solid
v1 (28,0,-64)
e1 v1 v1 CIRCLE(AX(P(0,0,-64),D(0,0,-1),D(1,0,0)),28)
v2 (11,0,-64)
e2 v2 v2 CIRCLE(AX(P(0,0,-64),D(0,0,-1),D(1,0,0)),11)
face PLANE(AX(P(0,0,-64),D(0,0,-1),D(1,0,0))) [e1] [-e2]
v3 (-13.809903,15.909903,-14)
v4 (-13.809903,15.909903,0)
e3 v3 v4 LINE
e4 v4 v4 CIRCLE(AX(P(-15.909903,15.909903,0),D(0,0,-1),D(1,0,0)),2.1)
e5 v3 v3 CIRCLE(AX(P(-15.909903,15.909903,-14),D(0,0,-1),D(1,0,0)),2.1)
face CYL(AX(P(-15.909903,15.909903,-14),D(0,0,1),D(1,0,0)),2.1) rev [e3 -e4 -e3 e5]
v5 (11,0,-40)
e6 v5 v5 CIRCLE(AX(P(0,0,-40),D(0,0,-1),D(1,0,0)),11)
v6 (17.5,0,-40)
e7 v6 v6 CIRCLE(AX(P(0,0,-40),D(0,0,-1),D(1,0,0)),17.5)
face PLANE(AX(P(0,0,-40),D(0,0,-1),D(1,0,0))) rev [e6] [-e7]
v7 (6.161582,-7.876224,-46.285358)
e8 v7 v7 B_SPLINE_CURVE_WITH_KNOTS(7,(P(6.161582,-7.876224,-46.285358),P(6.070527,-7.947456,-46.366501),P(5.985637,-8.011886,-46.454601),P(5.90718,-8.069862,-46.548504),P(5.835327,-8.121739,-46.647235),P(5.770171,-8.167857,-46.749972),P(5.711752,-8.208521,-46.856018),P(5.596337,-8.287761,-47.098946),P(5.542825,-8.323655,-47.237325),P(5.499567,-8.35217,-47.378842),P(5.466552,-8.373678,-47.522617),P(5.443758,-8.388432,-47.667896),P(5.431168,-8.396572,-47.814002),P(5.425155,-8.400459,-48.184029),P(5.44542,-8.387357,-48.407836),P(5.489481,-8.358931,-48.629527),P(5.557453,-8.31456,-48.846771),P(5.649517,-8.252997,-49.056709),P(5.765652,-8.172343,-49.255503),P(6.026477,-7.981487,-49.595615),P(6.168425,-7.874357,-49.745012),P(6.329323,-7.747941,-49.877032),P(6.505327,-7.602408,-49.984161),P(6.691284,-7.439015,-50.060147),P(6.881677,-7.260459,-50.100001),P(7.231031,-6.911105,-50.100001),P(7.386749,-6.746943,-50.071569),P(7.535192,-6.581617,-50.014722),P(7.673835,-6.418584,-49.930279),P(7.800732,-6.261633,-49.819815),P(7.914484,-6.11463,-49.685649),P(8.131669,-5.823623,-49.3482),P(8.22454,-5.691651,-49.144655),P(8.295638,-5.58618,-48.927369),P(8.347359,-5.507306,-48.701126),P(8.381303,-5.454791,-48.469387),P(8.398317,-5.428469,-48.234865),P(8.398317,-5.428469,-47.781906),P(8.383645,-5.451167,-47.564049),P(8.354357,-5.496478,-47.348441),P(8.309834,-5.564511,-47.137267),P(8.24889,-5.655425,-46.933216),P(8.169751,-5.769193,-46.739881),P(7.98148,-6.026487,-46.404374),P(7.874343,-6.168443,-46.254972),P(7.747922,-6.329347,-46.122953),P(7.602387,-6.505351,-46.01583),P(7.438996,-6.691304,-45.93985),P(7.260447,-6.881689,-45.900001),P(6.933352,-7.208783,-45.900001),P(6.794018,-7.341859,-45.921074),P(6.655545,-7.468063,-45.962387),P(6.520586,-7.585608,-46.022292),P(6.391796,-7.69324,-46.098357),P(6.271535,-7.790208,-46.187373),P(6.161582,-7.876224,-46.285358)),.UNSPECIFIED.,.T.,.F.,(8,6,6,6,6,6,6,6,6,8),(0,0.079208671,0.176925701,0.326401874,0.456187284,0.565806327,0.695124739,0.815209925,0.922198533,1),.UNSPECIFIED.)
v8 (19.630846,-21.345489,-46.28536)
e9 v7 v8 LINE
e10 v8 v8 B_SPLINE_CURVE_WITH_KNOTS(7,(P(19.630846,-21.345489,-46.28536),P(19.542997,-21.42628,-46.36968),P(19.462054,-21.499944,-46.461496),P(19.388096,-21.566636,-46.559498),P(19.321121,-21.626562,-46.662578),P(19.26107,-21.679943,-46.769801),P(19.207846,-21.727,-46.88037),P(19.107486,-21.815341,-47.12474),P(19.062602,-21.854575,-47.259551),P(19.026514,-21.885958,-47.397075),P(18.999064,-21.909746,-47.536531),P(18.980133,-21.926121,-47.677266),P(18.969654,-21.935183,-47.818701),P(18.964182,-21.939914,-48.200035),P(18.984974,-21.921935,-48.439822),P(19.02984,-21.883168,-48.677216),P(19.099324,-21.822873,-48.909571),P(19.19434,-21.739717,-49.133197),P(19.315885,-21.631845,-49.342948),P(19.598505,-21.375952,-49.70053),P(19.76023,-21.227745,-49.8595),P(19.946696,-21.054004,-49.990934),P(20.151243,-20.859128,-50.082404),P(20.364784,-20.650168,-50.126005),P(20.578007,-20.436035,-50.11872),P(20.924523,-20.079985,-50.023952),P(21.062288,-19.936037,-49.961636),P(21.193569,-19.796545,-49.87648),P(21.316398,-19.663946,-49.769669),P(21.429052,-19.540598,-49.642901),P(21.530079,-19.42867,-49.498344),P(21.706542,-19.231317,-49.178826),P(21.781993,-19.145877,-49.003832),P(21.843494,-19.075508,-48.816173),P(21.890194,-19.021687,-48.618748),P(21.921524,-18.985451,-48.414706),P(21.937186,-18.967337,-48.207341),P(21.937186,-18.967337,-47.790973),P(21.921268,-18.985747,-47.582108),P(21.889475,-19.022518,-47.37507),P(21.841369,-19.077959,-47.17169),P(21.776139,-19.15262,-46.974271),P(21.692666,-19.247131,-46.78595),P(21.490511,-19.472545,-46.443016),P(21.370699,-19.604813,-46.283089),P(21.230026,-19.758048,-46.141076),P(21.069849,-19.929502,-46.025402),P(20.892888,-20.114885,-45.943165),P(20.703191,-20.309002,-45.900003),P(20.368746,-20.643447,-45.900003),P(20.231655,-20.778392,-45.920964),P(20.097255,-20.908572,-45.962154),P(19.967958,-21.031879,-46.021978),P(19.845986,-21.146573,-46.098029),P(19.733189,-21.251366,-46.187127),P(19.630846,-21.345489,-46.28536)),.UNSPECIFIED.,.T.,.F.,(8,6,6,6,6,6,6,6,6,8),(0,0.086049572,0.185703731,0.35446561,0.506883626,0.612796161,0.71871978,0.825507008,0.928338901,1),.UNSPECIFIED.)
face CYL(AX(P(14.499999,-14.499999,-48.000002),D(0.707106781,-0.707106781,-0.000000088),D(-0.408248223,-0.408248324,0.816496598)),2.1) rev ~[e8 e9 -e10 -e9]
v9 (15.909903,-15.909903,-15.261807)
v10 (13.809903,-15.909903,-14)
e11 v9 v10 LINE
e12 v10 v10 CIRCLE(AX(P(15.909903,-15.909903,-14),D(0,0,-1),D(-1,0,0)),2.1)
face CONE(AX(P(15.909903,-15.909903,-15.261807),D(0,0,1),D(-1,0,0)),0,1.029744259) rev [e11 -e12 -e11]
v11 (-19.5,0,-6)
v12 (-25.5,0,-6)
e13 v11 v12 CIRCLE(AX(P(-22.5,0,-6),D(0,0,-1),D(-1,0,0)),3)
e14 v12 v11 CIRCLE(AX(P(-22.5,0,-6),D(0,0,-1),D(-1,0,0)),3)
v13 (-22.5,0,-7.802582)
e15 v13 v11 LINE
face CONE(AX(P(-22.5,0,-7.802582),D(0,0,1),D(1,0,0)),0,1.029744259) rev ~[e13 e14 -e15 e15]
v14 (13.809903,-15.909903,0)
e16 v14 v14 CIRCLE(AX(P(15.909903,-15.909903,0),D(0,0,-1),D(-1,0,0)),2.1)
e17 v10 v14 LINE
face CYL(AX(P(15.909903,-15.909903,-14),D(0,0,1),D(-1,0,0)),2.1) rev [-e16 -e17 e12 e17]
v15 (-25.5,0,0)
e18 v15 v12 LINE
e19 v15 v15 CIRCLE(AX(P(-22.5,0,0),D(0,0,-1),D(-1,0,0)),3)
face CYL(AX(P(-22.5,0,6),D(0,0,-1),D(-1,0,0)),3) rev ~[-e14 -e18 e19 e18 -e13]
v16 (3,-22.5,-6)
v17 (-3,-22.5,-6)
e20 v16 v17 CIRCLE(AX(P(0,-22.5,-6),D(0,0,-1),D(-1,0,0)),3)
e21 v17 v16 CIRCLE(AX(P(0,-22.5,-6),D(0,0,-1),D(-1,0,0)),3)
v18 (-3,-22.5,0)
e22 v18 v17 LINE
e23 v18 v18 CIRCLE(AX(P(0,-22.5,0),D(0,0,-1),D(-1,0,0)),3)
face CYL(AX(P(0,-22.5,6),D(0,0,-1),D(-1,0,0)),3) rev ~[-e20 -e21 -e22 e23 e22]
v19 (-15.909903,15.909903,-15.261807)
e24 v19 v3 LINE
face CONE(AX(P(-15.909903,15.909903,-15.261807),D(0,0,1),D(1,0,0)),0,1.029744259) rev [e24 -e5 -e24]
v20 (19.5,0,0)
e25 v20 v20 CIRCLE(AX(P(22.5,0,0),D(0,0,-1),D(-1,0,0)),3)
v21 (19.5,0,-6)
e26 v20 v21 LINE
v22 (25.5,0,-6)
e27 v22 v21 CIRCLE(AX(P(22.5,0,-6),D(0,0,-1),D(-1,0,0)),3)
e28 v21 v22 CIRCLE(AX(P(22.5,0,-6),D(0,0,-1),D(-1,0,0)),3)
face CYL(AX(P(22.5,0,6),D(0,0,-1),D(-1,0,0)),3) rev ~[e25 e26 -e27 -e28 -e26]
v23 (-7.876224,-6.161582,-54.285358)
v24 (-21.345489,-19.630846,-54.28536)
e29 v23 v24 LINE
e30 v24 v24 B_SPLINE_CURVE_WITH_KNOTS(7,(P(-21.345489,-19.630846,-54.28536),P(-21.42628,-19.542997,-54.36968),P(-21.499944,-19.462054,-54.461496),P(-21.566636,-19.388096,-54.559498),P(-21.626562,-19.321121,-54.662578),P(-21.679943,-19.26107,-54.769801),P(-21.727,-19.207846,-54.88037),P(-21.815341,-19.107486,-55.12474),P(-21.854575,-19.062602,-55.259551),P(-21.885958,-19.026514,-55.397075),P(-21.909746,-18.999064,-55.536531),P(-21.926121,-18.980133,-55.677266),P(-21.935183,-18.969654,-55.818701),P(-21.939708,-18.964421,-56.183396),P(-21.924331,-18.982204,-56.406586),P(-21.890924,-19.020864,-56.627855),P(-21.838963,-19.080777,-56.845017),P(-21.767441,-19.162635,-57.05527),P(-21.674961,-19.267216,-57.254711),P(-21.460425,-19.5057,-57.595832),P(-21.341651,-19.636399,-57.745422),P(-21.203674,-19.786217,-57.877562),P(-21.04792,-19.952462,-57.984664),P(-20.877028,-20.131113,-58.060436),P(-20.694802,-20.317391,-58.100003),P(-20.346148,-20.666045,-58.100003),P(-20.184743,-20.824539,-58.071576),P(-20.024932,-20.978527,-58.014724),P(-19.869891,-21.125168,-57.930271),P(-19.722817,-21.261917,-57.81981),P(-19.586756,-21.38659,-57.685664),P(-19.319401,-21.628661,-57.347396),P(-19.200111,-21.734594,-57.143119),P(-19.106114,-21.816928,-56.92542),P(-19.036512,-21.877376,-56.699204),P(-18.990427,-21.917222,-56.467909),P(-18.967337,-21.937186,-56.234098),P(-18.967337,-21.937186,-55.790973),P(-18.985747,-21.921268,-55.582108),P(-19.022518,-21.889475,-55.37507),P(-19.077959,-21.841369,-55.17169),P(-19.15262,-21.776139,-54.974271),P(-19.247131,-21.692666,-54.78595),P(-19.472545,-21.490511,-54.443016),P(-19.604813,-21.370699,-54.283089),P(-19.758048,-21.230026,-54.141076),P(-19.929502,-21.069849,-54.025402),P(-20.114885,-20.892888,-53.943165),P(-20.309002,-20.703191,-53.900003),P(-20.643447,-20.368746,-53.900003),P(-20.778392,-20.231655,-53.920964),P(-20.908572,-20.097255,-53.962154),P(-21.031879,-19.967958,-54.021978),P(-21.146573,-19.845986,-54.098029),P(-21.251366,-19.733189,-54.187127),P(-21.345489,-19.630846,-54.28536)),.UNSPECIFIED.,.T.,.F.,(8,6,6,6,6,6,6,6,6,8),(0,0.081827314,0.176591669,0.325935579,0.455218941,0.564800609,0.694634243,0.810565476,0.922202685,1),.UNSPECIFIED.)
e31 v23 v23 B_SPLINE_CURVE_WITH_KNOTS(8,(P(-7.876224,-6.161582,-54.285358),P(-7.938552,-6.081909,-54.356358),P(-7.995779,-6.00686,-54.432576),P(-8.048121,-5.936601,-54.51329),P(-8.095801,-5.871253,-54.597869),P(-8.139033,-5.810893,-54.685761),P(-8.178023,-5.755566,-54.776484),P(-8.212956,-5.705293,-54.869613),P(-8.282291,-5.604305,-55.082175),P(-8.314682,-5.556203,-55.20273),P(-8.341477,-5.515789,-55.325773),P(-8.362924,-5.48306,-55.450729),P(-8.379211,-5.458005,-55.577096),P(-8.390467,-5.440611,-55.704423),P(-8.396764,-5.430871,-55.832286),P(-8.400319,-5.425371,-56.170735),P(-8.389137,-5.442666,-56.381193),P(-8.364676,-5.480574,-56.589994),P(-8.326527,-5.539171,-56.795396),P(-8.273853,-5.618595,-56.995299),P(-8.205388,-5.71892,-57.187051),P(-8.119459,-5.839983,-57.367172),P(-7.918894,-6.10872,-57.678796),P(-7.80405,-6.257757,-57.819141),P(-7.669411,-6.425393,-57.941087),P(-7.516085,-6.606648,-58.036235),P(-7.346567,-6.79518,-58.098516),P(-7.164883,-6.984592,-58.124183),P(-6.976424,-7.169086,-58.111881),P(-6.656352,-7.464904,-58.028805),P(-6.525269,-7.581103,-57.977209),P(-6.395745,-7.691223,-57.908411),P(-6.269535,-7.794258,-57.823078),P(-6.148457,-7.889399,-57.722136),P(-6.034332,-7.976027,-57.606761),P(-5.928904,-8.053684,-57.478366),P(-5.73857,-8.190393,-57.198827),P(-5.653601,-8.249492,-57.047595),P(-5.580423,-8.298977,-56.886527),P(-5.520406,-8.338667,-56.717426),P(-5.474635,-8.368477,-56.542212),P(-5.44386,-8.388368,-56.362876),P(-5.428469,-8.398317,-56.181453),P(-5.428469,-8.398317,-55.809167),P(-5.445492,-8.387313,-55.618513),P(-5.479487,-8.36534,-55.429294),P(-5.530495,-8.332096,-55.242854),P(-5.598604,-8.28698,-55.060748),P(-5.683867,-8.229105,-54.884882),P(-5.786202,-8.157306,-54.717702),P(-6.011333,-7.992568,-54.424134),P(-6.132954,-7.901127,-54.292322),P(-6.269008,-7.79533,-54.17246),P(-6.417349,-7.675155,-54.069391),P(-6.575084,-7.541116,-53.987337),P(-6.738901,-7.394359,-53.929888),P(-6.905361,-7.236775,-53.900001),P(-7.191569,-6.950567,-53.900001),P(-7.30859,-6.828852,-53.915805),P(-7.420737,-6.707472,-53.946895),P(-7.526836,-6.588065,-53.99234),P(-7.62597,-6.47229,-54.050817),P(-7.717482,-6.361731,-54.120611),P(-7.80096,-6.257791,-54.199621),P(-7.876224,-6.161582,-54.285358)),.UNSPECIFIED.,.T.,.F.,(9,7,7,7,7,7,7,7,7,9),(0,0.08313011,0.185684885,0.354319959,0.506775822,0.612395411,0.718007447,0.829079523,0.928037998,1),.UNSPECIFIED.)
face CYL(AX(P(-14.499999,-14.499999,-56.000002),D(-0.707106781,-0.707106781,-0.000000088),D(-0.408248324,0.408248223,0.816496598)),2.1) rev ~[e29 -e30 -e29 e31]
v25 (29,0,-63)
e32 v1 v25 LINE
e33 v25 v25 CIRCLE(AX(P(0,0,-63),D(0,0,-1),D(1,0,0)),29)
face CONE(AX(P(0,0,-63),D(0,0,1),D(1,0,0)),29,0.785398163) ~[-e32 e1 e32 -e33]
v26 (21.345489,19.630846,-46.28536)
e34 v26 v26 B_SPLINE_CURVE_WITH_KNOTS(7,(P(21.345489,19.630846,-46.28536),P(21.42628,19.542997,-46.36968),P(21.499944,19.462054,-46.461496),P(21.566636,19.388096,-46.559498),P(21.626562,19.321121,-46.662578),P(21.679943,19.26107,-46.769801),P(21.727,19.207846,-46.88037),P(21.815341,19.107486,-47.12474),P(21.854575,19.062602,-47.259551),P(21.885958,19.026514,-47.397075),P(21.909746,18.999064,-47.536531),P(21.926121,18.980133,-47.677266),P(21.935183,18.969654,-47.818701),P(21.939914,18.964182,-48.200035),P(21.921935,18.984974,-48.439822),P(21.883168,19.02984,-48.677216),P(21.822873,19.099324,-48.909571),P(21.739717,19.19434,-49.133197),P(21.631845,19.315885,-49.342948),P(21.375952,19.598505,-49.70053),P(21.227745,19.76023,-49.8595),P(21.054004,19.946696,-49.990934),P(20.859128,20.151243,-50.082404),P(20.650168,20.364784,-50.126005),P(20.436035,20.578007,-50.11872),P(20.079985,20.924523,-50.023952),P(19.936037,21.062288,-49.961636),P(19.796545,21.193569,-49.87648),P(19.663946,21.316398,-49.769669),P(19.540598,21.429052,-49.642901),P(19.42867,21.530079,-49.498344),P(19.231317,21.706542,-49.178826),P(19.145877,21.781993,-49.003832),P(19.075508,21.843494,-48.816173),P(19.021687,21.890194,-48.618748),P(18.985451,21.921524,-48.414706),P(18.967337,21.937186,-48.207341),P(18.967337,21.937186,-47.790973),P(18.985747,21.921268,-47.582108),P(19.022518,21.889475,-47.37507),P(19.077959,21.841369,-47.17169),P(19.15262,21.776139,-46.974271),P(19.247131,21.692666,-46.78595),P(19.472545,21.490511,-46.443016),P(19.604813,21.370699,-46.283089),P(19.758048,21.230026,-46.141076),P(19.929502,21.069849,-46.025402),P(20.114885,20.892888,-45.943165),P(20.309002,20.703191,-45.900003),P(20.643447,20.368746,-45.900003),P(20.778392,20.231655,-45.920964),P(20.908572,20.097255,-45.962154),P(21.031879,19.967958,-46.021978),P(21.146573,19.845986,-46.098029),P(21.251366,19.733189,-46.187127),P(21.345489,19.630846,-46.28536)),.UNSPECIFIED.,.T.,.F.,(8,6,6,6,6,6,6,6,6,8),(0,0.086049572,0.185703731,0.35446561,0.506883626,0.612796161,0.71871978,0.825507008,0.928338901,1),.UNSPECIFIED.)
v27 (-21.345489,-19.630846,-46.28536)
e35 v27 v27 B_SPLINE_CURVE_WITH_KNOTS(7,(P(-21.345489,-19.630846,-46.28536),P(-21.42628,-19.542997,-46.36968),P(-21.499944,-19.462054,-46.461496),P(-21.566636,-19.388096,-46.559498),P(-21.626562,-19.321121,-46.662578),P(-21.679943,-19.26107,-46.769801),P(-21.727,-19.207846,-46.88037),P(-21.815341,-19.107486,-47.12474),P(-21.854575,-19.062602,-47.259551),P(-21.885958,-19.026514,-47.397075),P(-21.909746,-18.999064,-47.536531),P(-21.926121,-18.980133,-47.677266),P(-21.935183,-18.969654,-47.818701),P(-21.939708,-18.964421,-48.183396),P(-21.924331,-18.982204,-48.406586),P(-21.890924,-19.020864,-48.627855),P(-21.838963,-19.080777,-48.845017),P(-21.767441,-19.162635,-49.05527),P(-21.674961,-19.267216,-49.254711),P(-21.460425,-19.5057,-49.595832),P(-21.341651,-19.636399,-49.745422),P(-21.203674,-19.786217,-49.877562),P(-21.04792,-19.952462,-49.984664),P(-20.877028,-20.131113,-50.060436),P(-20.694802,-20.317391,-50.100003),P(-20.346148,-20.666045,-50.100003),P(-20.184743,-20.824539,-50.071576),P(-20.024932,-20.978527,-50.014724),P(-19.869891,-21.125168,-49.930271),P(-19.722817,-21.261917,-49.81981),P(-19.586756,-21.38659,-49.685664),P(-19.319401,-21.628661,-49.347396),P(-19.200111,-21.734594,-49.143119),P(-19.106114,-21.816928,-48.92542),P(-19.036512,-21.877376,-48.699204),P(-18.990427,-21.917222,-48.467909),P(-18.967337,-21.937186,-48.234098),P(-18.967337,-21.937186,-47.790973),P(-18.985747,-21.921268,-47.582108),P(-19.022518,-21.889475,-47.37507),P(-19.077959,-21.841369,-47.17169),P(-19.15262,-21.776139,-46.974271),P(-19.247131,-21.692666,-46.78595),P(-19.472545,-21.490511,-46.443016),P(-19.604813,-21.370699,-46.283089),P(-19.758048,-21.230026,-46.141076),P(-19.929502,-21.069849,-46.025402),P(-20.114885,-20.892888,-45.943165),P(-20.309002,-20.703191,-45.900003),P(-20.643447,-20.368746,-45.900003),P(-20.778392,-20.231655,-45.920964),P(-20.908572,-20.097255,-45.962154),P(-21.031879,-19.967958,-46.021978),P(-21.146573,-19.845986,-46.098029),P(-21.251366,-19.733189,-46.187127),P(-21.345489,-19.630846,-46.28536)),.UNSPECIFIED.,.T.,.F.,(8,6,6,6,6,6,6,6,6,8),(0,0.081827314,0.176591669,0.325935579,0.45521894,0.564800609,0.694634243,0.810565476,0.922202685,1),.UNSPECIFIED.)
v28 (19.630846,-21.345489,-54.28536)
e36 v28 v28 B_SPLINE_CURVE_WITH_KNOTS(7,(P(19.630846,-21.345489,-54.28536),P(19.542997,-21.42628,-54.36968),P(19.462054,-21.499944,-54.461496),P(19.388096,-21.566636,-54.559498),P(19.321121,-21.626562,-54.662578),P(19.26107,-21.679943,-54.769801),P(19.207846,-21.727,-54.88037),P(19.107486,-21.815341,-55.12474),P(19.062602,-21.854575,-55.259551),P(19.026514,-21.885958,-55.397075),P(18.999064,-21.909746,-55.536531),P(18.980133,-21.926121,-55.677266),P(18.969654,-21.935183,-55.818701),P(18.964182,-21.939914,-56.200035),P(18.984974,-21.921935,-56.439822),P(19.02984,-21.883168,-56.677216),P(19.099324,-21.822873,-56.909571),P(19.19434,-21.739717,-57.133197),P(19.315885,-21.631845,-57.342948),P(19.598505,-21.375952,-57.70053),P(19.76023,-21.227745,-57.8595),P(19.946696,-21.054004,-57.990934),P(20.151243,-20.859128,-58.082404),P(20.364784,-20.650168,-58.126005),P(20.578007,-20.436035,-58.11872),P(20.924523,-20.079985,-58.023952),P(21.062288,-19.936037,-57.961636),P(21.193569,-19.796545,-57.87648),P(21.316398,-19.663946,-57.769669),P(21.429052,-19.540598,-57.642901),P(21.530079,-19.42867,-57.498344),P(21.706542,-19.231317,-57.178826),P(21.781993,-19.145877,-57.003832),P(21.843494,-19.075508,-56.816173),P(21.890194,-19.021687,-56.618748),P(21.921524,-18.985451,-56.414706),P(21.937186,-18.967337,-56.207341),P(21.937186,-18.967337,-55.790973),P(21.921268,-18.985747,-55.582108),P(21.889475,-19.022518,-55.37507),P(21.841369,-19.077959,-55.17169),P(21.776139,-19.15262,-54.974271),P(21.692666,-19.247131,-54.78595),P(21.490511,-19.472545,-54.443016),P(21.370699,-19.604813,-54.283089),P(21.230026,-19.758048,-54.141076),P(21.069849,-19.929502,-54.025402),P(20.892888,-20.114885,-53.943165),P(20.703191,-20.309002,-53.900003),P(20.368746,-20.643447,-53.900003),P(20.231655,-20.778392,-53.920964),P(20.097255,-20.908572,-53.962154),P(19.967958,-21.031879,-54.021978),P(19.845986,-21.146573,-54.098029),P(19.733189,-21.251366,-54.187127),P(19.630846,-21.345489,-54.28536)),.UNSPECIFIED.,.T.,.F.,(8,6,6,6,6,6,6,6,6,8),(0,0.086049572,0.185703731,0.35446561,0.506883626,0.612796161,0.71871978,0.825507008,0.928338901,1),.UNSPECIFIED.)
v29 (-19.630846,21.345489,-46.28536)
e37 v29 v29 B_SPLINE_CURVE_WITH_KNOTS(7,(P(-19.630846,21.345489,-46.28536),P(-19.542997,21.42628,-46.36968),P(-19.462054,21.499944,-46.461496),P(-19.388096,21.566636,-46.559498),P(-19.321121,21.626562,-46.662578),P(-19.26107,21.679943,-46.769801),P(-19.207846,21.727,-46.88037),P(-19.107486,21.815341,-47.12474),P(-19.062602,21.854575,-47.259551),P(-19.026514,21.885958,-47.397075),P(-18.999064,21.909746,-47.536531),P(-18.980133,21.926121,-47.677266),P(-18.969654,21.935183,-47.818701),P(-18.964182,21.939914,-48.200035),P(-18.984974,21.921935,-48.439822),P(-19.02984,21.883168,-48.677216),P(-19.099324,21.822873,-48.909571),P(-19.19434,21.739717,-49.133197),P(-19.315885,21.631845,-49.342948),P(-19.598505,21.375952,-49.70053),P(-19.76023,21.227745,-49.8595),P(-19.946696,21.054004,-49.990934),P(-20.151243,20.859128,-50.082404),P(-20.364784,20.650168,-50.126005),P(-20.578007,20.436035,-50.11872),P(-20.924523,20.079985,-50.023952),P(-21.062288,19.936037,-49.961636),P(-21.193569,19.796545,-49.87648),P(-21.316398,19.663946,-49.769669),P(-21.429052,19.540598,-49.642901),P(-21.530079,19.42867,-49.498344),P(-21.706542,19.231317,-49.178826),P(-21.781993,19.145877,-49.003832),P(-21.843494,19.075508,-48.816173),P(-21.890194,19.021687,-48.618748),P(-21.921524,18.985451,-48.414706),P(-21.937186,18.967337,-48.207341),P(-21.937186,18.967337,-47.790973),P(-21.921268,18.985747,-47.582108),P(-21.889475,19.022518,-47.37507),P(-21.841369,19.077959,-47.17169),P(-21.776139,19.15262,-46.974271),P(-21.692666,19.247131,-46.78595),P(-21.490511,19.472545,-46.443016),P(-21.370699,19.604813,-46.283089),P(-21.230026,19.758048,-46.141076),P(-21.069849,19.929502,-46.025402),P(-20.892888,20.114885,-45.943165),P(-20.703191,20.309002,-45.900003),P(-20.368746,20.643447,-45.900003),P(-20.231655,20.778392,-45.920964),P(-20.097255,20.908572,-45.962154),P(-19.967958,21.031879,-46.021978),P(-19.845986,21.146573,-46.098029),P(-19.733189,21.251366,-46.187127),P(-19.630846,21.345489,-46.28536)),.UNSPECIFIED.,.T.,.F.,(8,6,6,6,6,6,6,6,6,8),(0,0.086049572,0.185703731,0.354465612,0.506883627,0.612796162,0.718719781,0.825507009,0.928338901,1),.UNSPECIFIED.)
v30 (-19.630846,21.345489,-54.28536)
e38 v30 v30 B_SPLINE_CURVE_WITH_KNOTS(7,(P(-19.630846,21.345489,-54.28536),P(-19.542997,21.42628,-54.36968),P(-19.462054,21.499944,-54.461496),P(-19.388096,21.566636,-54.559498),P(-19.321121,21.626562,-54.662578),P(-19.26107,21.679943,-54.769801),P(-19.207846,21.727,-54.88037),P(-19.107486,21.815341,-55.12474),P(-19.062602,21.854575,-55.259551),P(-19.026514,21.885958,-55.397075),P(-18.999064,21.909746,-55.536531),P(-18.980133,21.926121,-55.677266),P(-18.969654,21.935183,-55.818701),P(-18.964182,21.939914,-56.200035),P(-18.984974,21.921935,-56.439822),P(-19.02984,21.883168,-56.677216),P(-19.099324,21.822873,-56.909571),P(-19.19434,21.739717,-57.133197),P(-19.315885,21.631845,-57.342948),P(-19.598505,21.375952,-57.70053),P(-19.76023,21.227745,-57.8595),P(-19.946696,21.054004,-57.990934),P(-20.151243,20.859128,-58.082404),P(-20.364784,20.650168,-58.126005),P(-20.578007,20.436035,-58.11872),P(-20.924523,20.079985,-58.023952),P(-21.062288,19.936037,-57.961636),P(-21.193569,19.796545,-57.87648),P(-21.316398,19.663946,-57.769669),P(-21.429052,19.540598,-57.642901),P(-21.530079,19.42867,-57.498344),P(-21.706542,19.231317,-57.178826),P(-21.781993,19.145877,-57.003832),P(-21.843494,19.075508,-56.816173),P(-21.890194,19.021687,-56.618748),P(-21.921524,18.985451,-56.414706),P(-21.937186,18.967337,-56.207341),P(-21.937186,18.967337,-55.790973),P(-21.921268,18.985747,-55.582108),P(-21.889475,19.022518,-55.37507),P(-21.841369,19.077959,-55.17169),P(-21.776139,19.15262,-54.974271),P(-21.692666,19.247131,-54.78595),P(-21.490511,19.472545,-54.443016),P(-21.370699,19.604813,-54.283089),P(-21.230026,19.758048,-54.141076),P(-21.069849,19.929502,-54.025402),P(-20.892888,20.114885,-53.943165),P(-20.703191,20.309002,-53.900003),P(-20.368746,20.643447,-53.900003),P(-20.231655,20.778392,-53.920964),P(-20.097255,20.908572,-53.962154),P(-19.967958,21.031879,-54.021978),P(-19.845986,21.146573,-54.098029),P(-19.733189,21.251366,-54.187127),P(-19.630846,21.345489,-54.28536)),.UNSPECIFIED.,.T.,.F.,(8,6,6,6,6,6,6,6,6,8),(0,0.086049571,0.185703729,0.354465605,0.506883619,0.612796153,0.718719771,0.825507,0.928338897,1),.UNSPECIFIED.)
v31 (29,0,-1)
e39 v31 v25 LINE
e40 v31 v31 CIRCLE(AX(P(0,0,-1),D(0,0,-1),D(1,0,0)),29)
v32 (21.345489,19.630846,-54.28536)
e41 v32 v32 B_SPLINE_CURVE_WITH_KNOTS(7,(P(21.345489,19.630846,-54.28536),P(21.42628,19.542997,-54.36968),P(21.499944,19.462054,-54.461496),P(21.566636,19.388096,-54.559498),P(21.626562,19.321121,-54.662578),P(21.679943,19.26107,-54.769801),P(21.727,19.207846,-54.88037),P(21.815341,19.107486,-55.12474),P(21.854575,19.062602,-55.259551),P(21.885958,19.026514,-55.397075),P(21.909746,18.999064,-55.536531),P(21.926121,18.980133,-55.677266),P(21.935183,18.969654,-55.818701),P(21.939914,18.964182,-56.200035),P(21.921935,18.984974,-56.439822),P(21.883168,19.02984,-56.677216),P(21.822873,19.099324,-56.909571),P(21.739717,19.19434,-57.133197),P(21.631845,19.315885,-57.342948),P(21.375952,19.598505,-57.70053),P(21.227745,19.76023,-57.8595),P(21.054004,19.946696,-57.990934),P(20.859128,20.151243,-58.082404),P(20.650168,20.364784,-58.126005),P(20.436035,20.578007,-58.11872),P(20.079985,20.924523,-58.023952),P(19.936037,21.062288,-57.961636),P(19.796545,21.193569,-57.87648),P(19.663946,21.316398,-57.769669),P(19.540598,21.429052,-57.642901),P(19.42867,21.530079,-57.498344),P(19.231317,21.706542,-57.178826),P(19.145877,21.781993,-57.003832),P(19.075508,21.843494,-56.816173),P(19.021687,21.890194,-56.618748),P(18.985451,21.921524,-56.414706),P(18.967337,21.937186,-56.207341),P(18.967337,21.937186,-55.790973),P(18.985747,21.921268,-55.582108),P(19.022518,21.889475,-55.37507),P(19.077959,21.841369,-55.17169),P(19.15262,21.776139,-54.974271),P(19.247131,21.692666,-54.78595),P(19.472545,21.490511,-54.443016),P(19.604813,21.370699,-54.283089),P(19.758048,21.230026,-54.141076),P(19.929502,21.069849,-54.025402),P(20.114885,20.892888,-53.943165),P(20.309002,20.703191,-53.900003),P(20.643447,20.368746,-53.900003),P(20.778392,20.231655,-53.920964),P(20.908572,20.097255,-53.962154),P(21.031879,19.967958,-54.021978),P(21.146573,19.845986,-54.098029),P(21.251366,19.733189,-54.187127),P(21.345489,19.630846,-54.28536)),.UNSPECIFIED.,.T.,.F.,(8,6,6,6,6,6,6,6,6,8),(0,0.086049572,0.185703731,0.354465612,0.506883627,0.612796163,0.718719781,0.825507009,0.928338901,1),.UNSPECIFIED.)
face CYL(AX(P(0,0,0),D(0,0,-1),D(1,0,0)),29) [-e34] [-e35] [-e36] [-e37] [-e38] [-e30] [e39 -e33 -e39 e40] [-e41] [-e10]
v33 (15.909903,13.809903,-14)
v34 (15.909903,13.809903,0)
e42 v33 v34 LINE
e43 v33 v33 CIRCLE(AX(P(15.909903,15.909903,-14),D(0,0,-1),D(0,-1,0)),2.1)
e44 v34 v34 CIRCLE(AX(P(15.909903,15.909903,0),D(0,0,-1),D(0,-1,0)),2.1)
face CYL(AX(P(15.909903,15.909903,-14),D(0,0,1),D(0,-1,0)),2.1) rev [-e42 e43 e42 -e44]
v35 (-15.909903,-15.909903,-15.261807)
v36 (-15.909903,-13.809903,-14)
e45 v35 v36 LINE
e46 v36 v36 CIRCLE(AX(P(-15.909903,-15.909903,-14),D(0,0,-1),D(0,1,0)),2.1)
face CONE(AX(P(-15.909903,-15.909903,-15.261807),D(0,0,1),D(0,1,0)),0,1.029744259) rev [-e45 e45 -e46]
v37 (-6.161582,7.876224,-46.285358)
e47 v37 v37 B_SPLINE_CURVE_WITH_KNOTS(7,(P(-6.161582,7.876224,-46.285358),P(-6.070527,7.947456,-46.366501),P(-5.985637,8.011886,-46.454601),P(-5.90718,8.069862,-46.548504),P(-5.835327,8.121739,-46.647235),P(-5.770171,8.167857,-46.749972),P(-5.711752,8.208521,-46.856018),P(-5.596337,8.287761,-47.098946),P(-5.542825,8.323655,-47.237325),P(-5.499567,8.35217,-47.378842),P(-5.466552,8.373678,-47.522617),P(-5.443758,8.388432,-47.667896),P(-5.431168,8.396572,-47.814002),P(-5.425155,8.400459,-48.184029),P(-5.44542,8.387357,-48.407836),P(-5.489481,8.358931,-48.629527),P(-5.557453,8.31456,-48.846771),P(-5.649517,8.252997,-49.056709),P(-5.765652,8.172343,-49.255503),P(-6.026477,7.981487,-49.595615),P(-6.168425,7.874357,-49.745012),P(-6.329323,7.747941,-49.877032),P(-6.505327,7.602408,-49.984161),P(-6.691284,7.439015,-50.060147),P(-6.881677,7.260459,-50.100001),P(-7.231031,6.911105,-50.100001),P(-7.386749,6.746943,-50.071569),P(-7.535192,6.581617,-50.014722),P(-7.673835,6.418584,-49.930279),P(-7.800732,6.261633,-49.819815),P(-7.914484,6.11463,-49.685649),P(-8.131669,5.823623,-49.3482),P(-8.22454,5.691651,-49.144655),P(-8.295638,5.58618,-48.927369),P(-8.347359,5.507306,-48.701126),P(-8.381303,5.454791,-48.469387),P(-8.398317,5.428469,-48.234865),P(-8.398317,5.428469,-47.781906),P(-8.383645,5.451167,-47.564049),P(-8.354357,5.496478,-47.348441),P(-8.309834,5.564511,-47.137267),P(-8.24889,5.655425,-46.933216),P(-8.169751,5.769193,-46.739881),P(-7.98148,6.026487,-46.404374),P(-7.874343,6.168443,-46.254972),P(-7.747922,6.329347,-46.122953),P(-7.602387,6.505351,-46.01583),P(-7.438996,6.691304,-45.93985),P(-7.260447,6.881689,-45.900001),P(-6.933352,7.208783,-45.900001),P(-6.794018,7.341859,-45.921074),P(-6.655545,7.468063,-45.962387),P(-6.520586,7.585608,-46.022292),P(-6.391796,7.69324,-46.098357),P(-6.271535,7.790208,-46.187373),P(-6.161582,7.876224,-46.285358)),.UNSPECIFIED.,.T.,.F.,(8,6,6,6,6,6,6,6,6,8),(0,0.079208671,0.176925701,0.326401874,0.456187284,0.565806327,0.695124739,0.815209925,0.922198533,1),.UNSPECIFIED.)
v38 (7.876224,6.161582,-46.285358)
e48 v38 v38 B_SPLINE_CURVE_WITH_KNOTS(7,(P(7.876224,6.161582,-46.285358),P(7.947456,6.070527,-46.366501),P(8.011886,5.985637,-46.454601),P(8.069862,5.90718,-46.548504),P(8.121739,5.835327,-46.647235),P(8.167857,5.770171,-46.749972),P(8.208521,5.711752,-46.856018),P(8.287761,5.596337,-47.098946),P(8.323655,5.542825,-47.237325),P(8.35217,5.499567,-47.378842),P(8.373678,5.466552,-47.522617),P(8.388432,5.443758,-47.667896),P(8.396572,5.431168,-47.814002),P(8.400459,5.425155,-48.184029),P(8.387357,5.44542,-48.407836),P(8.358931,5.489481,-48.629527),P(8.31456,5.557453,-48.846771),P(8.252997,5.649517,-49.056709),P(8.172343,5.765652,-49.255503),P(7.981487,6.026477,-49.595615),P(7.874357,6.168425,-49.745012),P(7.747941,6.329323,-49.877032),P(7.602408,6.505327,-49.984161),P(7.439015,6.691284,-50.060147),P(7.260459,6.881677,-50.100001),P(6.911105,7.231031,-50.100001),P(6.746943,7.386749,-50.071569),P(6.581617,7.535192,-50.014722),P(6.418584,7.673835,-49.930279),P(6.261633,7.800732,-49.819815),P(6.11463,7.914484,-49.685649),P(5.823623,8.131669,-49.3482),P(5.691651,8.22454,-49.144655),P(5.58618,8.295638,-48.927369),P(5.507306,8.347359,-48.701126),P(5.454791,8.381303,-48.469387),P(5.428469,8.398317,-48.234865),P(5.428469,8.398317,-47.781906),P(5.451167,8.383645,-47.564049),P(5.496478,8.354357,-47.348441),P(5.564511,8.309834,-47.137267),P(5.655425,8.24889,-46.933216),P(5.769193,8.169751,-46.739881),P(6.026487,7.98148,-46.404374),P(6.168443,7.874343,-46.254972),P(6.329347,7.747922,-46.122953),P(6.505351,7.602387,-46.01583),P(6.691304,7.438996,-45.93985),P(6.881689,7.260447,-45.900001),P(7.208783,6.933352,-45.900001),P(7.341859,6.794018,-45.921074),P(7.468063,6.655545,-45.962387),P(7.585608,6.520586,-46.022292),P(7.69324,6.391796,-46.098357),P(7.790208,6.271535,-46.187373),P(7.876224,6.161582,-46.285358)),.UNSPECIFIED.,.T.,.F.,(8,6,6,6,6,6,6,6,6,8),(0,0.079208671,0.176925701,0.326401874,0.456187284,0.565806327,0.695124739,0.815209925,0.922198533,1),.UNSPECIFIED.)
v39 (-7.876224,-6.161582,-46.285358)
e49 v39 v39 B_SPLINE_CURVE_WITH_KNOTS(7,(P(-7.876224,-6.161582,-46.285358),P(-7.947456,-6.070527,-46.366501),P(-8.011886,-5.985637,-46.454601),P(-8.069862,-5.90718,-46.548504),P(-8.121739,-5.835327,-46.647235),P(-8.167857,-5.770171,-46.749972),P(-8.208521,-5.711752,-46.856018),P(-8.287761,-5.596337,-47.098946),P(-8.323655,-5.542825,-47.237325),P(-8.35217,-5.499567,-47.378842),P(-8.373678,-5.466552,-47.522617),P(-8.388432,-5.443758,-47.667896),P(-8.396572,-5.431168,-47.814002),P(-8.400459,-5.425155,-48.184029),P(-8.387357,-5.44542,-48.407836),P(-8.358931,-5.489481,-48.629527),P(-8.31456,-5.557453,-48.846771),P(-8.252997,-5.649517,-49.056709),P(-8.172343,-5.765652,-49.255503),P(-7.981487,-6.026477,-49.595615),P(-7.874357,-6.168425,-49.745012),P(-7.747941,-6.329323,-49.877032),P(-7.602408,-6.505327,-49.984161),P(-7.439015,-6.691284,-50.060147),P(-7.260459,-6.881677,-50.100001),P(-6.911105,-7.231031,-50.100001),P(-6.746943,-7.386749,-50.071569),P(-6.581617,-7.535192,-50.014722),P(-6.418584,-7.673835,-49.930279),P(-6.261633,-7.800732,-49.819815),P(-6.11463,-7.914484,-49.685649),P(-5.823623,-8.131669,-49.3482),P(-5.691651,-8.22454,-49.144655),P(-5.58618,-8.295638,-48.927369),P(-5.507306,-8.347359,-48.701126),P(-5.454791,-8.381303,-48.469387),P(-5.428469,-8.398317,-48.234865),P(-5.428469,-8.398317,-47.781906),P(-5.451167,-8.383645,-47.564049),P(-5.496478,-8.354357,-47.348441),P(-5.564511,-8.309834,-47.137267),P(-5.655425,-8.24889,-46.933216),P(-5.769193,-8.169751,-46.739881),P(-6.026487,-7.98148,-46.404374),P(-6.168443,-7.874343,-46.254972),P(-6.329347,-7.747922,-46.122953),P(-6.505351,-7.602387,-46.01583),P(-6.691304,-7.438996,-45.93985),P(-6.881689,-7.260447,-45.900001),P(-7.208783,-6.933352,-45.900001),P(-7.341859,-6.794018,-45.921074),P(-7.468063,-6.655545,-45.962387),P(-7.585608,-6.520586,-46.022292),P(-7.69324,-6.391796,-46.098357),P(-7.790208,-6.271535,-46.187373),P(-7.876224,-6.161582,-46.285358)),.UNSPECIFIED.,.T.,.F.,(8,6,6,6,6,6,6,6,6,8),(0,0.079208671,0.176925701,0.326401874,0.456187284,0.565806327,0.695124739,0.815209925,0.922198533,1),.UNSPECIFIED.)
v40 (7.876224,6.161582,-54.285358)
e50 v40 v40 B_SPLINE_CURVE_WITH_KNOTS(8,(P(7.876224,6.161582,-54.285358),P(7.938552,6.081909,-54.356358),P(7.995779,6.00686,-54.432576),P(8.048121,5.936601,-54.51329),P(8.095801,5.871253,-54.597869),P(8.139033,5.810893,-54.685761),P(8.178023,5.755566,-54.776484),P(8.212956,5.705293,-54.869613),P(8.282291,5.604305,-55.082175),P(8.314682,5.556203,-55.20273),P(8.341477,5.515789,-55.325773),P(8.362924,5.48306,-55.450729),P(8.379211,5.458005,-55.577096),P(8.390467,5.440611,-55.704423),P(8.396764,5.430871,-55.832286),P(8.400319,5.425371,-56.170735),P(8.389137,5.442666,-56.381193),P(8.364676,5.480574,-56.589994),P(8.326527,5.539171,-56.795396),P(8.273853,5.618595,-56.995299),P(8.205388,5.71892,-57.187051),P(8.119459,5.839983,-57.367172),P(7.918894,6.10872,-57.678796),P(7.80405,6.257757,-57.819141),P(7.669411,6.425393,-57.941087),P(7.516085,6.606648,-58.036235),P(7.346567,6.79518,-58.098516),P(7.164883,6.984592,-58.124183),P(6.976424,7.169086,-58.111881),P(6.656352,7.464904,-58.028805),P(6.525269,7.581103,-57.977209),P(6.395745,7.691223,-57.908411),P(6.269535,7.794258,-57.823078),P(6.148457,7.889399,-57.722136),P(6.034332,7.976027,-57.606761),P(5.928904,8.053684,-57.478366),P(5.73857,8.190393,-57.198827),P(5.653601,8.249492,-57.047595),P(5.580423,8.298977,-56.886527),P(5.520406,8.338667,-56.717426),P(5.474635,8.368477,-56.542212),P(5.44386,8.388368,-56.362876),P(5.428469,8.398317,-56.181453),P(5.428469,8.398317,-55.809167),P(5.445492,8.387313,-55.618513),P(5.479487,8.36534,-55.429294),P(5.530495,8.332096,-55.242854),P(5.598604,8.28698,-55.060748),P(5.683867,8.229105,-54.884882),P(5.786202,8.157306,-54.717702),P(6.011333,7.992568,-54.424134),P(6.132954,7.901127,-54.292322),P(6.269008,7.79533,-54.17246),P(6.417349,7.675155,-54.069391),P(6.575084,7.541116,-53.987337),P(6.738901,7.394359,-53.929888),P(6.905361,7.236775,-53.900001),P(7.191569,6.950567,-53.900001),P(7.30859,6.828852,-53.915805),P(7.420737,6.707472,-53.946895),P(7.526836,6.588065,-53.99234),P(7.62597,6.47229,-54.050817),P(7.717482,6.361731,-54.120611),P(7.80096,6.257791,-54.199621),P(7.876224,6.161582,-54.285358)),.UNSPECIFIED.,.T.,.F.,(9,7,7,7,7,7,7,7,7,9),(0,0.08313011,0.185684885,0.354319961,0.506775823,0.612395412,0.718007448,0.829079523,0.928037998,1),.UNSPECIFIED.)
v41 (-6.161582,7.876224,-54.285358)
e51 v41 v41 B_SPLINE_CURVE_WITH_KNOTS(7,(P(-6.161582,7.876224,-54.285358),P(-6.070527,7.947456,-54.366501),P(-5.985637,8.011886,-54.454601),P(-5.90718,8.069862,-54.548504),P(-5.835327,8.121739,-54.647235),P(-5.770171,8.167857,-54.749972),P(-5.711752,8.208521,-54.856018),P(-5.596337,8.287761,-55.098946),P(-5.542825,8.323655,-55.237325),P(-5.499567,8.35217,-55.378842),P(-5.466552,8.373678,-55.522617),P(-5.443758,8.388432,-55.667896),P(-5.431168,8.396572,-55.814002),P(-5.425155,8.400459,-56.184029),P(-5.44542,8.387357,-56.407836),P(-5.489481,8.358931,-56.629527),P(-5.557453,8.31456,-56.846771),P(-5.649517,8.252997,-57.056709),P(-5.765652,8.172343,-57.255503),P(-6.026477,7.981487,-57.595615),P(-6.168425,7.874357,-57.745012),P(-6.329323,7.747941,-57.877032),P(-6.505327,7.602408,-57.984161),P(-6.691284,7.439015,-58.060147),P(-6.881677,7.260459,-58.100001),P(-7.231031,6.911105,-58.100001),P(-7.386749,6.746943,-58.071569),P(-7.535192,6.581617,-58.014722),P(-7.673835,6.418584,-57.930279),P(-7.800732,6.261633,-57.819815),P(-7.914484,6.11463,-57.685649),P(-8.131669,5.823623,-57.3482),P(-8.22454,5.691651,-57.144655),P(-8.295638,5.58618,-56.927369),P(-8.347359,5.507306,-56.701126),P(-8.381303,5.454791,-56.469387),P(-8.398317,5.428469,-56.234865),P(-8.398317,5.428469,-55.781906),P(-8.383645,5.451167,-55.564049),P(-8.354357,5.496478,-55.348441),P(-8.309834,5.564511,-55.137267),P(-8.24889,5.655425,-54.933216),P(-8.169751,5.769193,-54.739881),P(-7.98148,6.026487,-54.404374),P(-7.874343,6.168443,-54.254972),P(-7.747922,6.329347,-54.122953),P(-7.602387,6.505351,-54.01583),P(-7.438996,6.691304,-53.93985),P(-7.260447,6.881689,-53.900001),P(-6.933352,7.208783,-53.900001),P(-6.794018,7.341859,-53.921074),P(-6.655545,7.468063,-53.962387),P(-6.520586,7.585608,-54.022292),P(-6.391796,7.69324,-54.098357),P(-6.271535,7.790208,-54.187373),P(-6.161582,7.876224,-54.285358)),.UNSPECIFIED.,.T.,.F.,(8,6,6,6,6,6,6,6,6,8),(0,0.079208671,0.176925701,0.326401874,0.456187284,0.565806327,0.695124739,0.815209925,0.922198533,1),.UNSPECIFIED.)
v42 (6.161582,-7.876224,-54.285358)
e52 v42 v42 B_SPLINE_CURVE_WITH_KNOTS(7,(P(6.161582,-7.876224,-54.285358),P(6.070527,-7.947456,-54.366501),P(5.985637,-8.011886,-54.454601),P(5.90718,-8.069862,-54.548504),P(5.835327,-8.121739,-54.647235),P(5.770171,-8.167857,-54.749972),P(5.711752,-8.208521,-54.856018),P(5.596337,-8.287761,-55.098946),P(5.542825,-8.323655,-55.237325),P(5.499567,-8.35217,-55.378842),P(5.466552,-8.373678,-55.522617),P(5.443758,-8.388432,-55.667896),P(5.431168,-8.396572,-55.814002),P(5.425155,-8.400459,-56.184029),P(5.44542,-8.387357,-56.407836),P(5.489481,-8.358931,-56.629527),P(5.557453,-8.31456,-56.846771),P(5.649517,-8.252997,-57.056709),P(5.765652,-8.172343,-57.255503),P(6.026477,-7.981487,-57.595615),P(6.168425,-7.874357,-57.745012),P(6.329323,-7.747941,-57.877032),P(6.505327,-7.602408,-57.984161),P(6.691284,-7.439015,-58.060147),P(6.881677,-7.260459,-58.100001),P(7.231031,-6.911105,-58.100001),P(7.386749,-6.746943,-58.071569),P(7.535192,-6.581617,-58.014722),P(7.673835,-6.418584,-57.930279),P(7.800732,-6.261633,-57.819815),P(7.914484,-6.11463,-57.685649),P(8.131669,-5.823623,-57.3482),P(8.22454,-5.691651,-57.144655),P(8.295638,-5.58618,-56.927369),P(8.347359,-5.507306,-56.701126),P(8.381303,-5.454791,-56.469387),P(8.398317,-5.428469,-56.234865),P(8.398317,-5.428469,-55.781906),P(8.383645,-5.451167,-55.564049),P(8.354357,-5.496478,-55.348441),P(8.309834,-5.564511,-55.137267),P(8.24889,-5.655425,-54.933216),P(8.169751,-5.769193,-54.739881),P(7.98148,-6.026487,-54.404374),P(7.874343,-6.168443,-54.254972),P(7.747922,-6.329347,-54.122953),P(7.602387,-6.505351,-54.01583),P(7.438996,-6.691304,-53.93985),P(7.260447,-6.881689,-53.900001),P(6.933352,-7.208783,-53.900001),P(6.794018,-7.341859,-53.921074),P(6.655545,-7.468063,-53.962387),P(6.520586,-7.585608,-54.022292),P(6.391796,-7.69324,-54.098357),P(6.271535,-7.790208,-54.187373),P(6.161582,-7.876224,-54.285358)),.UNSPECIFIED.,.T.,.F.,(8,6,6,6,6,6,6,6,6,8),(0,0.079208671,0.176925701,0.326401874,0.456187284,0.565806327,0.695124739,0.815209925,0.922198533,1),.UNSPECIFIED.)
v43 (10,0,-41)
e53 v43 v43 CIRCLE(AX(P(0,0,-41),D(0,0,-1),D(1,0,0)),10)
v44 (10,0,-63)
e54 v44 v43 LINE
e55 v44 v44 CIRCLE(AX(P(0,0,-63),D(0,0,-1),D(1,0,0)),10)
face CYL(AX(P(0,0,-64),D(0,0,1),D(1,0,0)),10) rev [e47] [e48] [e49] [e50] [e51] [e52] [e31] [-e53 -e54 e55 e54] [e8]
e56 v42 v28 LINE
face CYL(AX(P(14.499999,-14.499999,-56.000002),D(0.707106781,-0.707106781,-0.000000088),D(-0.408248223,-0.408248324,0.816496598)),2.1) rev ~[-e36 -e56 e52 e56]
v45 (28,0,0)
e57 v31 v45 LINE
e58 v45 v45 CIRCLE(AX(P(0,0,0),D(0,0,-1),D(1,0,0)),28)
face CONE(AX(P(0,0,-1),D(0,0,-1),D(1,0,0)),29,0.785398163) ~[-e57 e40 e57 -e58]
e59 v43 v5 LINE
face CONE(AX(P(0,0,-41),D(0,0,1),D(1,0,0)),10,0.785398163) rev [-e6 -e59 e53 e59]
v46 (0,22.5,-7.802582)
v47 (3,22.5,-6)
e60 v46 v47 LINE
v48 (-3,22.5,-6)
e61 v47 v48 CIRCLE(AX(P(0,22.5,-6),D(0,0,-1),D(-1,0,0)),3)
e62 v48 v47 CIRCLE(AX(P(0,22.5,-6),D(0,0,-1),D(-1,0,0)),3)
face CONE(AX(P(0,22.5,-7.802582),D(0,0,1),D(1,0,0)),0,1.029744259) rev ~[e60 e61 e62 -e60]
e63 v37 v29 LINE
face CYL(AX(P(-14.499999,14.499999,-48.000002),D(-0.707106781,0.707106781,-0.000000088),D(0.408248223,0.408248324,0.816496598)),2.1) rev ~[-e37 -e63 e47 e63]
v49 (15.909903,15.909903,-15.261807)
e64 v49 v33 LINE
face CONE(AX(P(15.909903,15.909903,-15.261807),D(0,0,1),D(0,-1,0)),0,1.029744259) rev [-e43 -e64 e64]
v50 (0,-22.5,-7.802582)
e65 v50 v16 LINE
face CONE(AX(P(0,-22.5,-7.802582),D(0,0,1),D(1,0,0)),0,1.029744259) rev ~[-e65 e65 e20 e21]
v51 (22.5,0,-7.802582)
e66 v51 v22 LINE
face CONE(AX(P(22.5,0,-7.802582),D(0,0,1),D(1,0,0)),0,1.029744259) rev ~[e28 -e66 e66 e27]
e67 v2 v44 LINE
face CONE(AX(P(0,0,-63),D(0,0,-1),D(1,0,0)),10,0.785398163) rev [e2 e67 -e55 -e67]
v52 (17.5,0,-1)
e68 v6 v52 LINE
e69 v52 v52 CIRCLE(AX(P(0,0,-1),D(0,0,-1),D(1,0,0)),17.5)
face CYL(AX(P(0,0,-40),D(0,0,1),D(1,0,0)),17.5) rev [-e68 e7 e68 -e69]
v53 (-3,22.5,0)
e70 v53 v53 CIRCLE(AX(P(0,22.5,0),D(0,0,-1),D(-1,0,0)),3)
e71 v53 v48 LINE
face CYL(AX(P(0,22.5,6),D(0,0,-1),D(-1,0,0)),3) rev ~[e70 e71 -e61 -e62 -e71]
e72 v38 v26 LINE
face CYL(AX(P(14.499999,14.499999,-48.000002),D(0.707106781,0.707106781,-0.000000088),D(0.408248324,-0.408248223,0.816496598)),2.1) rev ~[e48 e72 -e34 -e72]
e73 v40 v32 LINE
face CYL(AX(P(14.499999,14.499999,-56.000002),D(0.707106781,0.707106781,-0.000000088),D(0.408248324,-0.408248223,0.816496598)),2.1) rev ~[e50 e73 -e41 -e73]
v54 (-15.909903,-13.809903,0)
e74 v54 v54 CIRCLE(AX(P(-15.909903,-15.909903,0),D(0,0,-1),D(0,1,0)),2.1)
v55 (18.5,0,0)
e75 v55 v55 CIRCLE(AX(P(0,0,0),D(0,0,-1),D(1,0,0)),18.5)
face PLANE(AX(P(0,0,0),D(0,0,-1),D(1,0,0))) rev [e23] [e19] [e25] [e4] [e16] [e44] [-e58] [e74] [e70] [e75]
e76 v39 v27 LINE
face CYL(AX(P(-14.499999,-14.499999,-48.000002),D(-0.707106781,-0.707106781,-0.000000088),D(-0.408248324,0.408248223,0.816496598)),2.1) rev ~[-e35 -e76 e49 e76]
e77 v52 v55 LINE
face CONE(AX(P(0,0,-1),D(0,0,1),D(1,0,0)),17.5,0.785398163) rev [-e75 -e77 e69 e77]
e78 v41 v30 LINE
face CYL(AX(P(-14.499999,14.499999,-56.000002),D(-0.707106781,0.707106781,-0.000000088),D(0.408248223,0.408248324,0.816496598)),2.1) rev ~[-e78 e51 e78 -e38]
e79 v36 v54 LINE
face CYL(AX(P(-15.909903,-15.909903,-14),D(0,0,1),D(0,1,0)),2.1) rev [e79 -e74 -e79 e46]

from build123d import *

# Parameters (mm, degrees)
PATTERN_CIRCULAR_1_COUNT           = 4
CHAMFER_1_SIZE                     = 1
CHAMFER_2_SIZE                     = 1
MM_1_D                             = 6
MM_1_DEPTH                         = 6
MM_1_TIP                           = 1.802581857
SKETCH_12_W                        = 2.1
SKETCH_12_H                        = 41.012198951
HOLE_WIZARD_M5_2_AT_2_COUNT        = 2
HOLE_WIZARD_M5_2_AT_2_PITCH        = 8
PATTERN_CIRCULAR_3_COUNT           = 4
PATTERN_CIRCULAR_3_COPY_1_SKETCH_W = 2.1
PATTERN_CIRCULAR_3_COPY_1_SKETCH_H = 41.012198951
PATTERN_CIRCULAR_3_COPY_2_SKETCH_W = 2.1
PATTERN_CIRCULAR_3_COPY_2_SKETCH_H = 41.012198951
PATTERN_CIRCULAR_3_COPY_3_SKETCH_W = 2.1
PATTERN_CIRCULAR_3_COPY_3_SKETCH_H = 41.012198951


with BuildPart() as part:
    # 草图1 → 旋转1 (revolve)
    with BuildSketch(Plane(origin=(0, 0, 0), x_dir=(0, 0, -1), z_dir=(1, 0, 0)), mode=Mode.PRIVATE) as revolve_1_sk:
        Polygon((64, 29), (64, 10), (40, 10), (40, 17.5), (0, 17.5), (0, 29), align=None)
    revolve(revolve_1_sk.sketch.rotate(Axis((0, 0, 74.600938967), (0, 0, -1)), 90), axis=Axis((0, 0, 74.600938967), (0, 0, -1)))

    # 草图5 → M5 螺纹孔1 (revolve, cut)
    with BuildSketch(Plane(origin=(15.909902577, 15.909902577, 0), x_dir=(0, -1, 0), z_dir=(1, 0, 0))):
        Polygon((0, 0), (0, 15.2618073), (2.1, 14), (2.1, 0), align=None)
    hole_wizard_m5_1 = revolve(axis=Axis((15.909902577, 15.909902577, 6.35), (0, 0, -1)), mode=Mode.SUBTRACT)

    # 阵列(圆周)1: M5 螺纹孔1 ×4 about axis
    pattern_circular_1_axis = Axis((0, 0, 0), (0, 0, 1))
    for i in range(1, PATTERN_CIRCULAR_1_COUNT):
        add(hole_wizard_m5_1.rotate(pattern_circular_1_axis, i * 360 / PATTERN_CIRCULAR_1_COUNT), mode=Mode.SUBTRACT)

    # 倒角1
    chamfer_1_edges = [part.edges().sort_by_distance(p)[0] for p in [
        (-29, 0, 0),
        (-29, 0, -64),
    ]]
    chamfer(chamfer_1_edges, length=CHAMFER_1_SIZE)

    # 倒角2
    chamfer_2_edges = [part.edges().sort_by_distance(p)[0] for p in [
        (-10, 0, -64),
        (-10, 0, -40),
        (-17.5, 0, 0),
    ]]
    chamfer(chamfer_2_edges, length=CHAMFER_2_SIZE)

    # 大小mm 暗销孔1
    with Locations(Plane.XY):
        with Locations((0, -22.5), (-22.5, 0), (0, 22.5), (22.5, 0)):
            Hole(MM_1_D / 2, depth=MM_1_DEPTH)
            with Locations((0, 0, -(MM_1_DEPTH + MM_1_TIP / 2))):  # 118° drill point
                Cone(0, MM_1_D / 2, MM_1_TIP, mode=Mode.SUBTRACT)

    # 草图12 → M5 螺纹孔2 (revolve, cut)
    with BuildSketch(Plane(origin=(-2.992e-06, 2.992e-06, -48), x_dir=(-0.4082482226009898, -0.4082483243953038, 0.8164965978934386), z_dir=(0.5773503171759193, 0.5773502451964775, 0.5773502451964775))):
        with Locations((1.05, 20.506099476)):
            Rectangle(SKETCH_12_W, SKETCH_12_H)
    hole_wizard_m5_2 = revolve(axis=Axis((-4.490131053, 4.490131053, -47.99999944), (0.7071067811865461, -0.7071067811865434, -8.815645872088268e-08)), mode=Mode.SUBTRACT)

    # M5 螺纹孔2 at 2: M5 螺纹孔2 ×2
    with Locations(*[(0, 0, -i * HOLE_WIZARD_M5_2_AT_2_PITCH) for i in range(1, HOLE_WIZARD_M5_2_AT_2_COUNT)]):
        add(hole_wizard_m5_2, mode=Mode.SUBTRACT)

    # 阵列(圆周)3: M5 螺纹孔2 ×4 about axis
    pattern_circular_3_axis = Axis((0, 0, -63), (0, 0, -1))
    for i in range(1, PATTERN_CIRCULAR_3_COUNT):
        add(hole_wizard_m5_2.rotate(pattern_circular_3_axis, i * 360 / PATTERN_CIRCULAR_3_COUNT), mode=Mode.SUBTRACT)

    # 阵列(圆周)3 copy 1 sketch → 阵列(圆周)3 copy 1 (revolve, cut)
    with BuildSketch(Plane(origin=(3.491e-06, 3.491e-06, -56), x_dir=(-0.4082483243953038, 0.4082482226009898, 0.8164965978934386), z_dir=(0.5773502451964775, -0.5773503171759193, 0.5773502451964775))):
        with Locations((1.05, 20.506099476)):
            Rectangle(PATTERN_CIRCULAR_3_COPY_1_SKETCH_W, PATTERN_CIRCULAR_3_COPY_1_SKETCH_H)
    revolve(axis=Axis((4.490131551, 4.490131551, -55.99999944), (-0.7071067811865434, -0.7071067811865461, -8.815645872088268e-08)), mode=Mode.SUBTRACT)

    # 阵列(圆周)3 copy 2 sketch → 阵列(圆周)3 copy 2 (revolve, cut)
    with BuildSketch(Plane(origin=(3.491e-06, -3.491e-06, -56), x_dir=(0.40824822260098975, 0.40824832439530384, 0.8164965978934386), z_dir=(-0.5773503171759192, -0.5773502451964776, 0.5773502451964775))):
        with Locations((1.05, 20.506099476)):
            Rectangle(PATTERN_CIRCULAR_3_COPY_2_SKETCH_W, PATTERN_CIRCULAR_3_COPY_2_SKETCH_H)
    revolve(axis=Axis((4.490131551, -4.490131551, -55.99999944), (-0.7071067811865462, 0.7071067811865432, -8.815645872088268e-08)), mode=Mode.SUBTRACT)

    # 阵列(圆周)3 copy 3 sketch → 阵列(圆周)3 copy 3 (revolve, cut)
    with BuildSketch(Plane(origin=(-3.491e-06, -3.491e-06, -56), x_dir=(0.40824832439530384, -0.40824822260098975, 0.8164965978934386), z_dir=(-0.5773502451964776, 0.5773503171759192, 0.5773502451964775))):
        with Locations((1.05, 20.506099476)):
            Rectangle(PATTERN_CIRCULAR_3_COPY_3_SKETCH_W, PATTERN_CIRCULAR_3_COPY_3_SKETCH_H)
    revolve(axis=Axis((-4.490131551, -4.490131551, -55.99999944), (0.7071067811865432, 0.7071067811865462, -8.815645872088268e-08)), mode=Mode.SUBTRACT)


solid = part.part
